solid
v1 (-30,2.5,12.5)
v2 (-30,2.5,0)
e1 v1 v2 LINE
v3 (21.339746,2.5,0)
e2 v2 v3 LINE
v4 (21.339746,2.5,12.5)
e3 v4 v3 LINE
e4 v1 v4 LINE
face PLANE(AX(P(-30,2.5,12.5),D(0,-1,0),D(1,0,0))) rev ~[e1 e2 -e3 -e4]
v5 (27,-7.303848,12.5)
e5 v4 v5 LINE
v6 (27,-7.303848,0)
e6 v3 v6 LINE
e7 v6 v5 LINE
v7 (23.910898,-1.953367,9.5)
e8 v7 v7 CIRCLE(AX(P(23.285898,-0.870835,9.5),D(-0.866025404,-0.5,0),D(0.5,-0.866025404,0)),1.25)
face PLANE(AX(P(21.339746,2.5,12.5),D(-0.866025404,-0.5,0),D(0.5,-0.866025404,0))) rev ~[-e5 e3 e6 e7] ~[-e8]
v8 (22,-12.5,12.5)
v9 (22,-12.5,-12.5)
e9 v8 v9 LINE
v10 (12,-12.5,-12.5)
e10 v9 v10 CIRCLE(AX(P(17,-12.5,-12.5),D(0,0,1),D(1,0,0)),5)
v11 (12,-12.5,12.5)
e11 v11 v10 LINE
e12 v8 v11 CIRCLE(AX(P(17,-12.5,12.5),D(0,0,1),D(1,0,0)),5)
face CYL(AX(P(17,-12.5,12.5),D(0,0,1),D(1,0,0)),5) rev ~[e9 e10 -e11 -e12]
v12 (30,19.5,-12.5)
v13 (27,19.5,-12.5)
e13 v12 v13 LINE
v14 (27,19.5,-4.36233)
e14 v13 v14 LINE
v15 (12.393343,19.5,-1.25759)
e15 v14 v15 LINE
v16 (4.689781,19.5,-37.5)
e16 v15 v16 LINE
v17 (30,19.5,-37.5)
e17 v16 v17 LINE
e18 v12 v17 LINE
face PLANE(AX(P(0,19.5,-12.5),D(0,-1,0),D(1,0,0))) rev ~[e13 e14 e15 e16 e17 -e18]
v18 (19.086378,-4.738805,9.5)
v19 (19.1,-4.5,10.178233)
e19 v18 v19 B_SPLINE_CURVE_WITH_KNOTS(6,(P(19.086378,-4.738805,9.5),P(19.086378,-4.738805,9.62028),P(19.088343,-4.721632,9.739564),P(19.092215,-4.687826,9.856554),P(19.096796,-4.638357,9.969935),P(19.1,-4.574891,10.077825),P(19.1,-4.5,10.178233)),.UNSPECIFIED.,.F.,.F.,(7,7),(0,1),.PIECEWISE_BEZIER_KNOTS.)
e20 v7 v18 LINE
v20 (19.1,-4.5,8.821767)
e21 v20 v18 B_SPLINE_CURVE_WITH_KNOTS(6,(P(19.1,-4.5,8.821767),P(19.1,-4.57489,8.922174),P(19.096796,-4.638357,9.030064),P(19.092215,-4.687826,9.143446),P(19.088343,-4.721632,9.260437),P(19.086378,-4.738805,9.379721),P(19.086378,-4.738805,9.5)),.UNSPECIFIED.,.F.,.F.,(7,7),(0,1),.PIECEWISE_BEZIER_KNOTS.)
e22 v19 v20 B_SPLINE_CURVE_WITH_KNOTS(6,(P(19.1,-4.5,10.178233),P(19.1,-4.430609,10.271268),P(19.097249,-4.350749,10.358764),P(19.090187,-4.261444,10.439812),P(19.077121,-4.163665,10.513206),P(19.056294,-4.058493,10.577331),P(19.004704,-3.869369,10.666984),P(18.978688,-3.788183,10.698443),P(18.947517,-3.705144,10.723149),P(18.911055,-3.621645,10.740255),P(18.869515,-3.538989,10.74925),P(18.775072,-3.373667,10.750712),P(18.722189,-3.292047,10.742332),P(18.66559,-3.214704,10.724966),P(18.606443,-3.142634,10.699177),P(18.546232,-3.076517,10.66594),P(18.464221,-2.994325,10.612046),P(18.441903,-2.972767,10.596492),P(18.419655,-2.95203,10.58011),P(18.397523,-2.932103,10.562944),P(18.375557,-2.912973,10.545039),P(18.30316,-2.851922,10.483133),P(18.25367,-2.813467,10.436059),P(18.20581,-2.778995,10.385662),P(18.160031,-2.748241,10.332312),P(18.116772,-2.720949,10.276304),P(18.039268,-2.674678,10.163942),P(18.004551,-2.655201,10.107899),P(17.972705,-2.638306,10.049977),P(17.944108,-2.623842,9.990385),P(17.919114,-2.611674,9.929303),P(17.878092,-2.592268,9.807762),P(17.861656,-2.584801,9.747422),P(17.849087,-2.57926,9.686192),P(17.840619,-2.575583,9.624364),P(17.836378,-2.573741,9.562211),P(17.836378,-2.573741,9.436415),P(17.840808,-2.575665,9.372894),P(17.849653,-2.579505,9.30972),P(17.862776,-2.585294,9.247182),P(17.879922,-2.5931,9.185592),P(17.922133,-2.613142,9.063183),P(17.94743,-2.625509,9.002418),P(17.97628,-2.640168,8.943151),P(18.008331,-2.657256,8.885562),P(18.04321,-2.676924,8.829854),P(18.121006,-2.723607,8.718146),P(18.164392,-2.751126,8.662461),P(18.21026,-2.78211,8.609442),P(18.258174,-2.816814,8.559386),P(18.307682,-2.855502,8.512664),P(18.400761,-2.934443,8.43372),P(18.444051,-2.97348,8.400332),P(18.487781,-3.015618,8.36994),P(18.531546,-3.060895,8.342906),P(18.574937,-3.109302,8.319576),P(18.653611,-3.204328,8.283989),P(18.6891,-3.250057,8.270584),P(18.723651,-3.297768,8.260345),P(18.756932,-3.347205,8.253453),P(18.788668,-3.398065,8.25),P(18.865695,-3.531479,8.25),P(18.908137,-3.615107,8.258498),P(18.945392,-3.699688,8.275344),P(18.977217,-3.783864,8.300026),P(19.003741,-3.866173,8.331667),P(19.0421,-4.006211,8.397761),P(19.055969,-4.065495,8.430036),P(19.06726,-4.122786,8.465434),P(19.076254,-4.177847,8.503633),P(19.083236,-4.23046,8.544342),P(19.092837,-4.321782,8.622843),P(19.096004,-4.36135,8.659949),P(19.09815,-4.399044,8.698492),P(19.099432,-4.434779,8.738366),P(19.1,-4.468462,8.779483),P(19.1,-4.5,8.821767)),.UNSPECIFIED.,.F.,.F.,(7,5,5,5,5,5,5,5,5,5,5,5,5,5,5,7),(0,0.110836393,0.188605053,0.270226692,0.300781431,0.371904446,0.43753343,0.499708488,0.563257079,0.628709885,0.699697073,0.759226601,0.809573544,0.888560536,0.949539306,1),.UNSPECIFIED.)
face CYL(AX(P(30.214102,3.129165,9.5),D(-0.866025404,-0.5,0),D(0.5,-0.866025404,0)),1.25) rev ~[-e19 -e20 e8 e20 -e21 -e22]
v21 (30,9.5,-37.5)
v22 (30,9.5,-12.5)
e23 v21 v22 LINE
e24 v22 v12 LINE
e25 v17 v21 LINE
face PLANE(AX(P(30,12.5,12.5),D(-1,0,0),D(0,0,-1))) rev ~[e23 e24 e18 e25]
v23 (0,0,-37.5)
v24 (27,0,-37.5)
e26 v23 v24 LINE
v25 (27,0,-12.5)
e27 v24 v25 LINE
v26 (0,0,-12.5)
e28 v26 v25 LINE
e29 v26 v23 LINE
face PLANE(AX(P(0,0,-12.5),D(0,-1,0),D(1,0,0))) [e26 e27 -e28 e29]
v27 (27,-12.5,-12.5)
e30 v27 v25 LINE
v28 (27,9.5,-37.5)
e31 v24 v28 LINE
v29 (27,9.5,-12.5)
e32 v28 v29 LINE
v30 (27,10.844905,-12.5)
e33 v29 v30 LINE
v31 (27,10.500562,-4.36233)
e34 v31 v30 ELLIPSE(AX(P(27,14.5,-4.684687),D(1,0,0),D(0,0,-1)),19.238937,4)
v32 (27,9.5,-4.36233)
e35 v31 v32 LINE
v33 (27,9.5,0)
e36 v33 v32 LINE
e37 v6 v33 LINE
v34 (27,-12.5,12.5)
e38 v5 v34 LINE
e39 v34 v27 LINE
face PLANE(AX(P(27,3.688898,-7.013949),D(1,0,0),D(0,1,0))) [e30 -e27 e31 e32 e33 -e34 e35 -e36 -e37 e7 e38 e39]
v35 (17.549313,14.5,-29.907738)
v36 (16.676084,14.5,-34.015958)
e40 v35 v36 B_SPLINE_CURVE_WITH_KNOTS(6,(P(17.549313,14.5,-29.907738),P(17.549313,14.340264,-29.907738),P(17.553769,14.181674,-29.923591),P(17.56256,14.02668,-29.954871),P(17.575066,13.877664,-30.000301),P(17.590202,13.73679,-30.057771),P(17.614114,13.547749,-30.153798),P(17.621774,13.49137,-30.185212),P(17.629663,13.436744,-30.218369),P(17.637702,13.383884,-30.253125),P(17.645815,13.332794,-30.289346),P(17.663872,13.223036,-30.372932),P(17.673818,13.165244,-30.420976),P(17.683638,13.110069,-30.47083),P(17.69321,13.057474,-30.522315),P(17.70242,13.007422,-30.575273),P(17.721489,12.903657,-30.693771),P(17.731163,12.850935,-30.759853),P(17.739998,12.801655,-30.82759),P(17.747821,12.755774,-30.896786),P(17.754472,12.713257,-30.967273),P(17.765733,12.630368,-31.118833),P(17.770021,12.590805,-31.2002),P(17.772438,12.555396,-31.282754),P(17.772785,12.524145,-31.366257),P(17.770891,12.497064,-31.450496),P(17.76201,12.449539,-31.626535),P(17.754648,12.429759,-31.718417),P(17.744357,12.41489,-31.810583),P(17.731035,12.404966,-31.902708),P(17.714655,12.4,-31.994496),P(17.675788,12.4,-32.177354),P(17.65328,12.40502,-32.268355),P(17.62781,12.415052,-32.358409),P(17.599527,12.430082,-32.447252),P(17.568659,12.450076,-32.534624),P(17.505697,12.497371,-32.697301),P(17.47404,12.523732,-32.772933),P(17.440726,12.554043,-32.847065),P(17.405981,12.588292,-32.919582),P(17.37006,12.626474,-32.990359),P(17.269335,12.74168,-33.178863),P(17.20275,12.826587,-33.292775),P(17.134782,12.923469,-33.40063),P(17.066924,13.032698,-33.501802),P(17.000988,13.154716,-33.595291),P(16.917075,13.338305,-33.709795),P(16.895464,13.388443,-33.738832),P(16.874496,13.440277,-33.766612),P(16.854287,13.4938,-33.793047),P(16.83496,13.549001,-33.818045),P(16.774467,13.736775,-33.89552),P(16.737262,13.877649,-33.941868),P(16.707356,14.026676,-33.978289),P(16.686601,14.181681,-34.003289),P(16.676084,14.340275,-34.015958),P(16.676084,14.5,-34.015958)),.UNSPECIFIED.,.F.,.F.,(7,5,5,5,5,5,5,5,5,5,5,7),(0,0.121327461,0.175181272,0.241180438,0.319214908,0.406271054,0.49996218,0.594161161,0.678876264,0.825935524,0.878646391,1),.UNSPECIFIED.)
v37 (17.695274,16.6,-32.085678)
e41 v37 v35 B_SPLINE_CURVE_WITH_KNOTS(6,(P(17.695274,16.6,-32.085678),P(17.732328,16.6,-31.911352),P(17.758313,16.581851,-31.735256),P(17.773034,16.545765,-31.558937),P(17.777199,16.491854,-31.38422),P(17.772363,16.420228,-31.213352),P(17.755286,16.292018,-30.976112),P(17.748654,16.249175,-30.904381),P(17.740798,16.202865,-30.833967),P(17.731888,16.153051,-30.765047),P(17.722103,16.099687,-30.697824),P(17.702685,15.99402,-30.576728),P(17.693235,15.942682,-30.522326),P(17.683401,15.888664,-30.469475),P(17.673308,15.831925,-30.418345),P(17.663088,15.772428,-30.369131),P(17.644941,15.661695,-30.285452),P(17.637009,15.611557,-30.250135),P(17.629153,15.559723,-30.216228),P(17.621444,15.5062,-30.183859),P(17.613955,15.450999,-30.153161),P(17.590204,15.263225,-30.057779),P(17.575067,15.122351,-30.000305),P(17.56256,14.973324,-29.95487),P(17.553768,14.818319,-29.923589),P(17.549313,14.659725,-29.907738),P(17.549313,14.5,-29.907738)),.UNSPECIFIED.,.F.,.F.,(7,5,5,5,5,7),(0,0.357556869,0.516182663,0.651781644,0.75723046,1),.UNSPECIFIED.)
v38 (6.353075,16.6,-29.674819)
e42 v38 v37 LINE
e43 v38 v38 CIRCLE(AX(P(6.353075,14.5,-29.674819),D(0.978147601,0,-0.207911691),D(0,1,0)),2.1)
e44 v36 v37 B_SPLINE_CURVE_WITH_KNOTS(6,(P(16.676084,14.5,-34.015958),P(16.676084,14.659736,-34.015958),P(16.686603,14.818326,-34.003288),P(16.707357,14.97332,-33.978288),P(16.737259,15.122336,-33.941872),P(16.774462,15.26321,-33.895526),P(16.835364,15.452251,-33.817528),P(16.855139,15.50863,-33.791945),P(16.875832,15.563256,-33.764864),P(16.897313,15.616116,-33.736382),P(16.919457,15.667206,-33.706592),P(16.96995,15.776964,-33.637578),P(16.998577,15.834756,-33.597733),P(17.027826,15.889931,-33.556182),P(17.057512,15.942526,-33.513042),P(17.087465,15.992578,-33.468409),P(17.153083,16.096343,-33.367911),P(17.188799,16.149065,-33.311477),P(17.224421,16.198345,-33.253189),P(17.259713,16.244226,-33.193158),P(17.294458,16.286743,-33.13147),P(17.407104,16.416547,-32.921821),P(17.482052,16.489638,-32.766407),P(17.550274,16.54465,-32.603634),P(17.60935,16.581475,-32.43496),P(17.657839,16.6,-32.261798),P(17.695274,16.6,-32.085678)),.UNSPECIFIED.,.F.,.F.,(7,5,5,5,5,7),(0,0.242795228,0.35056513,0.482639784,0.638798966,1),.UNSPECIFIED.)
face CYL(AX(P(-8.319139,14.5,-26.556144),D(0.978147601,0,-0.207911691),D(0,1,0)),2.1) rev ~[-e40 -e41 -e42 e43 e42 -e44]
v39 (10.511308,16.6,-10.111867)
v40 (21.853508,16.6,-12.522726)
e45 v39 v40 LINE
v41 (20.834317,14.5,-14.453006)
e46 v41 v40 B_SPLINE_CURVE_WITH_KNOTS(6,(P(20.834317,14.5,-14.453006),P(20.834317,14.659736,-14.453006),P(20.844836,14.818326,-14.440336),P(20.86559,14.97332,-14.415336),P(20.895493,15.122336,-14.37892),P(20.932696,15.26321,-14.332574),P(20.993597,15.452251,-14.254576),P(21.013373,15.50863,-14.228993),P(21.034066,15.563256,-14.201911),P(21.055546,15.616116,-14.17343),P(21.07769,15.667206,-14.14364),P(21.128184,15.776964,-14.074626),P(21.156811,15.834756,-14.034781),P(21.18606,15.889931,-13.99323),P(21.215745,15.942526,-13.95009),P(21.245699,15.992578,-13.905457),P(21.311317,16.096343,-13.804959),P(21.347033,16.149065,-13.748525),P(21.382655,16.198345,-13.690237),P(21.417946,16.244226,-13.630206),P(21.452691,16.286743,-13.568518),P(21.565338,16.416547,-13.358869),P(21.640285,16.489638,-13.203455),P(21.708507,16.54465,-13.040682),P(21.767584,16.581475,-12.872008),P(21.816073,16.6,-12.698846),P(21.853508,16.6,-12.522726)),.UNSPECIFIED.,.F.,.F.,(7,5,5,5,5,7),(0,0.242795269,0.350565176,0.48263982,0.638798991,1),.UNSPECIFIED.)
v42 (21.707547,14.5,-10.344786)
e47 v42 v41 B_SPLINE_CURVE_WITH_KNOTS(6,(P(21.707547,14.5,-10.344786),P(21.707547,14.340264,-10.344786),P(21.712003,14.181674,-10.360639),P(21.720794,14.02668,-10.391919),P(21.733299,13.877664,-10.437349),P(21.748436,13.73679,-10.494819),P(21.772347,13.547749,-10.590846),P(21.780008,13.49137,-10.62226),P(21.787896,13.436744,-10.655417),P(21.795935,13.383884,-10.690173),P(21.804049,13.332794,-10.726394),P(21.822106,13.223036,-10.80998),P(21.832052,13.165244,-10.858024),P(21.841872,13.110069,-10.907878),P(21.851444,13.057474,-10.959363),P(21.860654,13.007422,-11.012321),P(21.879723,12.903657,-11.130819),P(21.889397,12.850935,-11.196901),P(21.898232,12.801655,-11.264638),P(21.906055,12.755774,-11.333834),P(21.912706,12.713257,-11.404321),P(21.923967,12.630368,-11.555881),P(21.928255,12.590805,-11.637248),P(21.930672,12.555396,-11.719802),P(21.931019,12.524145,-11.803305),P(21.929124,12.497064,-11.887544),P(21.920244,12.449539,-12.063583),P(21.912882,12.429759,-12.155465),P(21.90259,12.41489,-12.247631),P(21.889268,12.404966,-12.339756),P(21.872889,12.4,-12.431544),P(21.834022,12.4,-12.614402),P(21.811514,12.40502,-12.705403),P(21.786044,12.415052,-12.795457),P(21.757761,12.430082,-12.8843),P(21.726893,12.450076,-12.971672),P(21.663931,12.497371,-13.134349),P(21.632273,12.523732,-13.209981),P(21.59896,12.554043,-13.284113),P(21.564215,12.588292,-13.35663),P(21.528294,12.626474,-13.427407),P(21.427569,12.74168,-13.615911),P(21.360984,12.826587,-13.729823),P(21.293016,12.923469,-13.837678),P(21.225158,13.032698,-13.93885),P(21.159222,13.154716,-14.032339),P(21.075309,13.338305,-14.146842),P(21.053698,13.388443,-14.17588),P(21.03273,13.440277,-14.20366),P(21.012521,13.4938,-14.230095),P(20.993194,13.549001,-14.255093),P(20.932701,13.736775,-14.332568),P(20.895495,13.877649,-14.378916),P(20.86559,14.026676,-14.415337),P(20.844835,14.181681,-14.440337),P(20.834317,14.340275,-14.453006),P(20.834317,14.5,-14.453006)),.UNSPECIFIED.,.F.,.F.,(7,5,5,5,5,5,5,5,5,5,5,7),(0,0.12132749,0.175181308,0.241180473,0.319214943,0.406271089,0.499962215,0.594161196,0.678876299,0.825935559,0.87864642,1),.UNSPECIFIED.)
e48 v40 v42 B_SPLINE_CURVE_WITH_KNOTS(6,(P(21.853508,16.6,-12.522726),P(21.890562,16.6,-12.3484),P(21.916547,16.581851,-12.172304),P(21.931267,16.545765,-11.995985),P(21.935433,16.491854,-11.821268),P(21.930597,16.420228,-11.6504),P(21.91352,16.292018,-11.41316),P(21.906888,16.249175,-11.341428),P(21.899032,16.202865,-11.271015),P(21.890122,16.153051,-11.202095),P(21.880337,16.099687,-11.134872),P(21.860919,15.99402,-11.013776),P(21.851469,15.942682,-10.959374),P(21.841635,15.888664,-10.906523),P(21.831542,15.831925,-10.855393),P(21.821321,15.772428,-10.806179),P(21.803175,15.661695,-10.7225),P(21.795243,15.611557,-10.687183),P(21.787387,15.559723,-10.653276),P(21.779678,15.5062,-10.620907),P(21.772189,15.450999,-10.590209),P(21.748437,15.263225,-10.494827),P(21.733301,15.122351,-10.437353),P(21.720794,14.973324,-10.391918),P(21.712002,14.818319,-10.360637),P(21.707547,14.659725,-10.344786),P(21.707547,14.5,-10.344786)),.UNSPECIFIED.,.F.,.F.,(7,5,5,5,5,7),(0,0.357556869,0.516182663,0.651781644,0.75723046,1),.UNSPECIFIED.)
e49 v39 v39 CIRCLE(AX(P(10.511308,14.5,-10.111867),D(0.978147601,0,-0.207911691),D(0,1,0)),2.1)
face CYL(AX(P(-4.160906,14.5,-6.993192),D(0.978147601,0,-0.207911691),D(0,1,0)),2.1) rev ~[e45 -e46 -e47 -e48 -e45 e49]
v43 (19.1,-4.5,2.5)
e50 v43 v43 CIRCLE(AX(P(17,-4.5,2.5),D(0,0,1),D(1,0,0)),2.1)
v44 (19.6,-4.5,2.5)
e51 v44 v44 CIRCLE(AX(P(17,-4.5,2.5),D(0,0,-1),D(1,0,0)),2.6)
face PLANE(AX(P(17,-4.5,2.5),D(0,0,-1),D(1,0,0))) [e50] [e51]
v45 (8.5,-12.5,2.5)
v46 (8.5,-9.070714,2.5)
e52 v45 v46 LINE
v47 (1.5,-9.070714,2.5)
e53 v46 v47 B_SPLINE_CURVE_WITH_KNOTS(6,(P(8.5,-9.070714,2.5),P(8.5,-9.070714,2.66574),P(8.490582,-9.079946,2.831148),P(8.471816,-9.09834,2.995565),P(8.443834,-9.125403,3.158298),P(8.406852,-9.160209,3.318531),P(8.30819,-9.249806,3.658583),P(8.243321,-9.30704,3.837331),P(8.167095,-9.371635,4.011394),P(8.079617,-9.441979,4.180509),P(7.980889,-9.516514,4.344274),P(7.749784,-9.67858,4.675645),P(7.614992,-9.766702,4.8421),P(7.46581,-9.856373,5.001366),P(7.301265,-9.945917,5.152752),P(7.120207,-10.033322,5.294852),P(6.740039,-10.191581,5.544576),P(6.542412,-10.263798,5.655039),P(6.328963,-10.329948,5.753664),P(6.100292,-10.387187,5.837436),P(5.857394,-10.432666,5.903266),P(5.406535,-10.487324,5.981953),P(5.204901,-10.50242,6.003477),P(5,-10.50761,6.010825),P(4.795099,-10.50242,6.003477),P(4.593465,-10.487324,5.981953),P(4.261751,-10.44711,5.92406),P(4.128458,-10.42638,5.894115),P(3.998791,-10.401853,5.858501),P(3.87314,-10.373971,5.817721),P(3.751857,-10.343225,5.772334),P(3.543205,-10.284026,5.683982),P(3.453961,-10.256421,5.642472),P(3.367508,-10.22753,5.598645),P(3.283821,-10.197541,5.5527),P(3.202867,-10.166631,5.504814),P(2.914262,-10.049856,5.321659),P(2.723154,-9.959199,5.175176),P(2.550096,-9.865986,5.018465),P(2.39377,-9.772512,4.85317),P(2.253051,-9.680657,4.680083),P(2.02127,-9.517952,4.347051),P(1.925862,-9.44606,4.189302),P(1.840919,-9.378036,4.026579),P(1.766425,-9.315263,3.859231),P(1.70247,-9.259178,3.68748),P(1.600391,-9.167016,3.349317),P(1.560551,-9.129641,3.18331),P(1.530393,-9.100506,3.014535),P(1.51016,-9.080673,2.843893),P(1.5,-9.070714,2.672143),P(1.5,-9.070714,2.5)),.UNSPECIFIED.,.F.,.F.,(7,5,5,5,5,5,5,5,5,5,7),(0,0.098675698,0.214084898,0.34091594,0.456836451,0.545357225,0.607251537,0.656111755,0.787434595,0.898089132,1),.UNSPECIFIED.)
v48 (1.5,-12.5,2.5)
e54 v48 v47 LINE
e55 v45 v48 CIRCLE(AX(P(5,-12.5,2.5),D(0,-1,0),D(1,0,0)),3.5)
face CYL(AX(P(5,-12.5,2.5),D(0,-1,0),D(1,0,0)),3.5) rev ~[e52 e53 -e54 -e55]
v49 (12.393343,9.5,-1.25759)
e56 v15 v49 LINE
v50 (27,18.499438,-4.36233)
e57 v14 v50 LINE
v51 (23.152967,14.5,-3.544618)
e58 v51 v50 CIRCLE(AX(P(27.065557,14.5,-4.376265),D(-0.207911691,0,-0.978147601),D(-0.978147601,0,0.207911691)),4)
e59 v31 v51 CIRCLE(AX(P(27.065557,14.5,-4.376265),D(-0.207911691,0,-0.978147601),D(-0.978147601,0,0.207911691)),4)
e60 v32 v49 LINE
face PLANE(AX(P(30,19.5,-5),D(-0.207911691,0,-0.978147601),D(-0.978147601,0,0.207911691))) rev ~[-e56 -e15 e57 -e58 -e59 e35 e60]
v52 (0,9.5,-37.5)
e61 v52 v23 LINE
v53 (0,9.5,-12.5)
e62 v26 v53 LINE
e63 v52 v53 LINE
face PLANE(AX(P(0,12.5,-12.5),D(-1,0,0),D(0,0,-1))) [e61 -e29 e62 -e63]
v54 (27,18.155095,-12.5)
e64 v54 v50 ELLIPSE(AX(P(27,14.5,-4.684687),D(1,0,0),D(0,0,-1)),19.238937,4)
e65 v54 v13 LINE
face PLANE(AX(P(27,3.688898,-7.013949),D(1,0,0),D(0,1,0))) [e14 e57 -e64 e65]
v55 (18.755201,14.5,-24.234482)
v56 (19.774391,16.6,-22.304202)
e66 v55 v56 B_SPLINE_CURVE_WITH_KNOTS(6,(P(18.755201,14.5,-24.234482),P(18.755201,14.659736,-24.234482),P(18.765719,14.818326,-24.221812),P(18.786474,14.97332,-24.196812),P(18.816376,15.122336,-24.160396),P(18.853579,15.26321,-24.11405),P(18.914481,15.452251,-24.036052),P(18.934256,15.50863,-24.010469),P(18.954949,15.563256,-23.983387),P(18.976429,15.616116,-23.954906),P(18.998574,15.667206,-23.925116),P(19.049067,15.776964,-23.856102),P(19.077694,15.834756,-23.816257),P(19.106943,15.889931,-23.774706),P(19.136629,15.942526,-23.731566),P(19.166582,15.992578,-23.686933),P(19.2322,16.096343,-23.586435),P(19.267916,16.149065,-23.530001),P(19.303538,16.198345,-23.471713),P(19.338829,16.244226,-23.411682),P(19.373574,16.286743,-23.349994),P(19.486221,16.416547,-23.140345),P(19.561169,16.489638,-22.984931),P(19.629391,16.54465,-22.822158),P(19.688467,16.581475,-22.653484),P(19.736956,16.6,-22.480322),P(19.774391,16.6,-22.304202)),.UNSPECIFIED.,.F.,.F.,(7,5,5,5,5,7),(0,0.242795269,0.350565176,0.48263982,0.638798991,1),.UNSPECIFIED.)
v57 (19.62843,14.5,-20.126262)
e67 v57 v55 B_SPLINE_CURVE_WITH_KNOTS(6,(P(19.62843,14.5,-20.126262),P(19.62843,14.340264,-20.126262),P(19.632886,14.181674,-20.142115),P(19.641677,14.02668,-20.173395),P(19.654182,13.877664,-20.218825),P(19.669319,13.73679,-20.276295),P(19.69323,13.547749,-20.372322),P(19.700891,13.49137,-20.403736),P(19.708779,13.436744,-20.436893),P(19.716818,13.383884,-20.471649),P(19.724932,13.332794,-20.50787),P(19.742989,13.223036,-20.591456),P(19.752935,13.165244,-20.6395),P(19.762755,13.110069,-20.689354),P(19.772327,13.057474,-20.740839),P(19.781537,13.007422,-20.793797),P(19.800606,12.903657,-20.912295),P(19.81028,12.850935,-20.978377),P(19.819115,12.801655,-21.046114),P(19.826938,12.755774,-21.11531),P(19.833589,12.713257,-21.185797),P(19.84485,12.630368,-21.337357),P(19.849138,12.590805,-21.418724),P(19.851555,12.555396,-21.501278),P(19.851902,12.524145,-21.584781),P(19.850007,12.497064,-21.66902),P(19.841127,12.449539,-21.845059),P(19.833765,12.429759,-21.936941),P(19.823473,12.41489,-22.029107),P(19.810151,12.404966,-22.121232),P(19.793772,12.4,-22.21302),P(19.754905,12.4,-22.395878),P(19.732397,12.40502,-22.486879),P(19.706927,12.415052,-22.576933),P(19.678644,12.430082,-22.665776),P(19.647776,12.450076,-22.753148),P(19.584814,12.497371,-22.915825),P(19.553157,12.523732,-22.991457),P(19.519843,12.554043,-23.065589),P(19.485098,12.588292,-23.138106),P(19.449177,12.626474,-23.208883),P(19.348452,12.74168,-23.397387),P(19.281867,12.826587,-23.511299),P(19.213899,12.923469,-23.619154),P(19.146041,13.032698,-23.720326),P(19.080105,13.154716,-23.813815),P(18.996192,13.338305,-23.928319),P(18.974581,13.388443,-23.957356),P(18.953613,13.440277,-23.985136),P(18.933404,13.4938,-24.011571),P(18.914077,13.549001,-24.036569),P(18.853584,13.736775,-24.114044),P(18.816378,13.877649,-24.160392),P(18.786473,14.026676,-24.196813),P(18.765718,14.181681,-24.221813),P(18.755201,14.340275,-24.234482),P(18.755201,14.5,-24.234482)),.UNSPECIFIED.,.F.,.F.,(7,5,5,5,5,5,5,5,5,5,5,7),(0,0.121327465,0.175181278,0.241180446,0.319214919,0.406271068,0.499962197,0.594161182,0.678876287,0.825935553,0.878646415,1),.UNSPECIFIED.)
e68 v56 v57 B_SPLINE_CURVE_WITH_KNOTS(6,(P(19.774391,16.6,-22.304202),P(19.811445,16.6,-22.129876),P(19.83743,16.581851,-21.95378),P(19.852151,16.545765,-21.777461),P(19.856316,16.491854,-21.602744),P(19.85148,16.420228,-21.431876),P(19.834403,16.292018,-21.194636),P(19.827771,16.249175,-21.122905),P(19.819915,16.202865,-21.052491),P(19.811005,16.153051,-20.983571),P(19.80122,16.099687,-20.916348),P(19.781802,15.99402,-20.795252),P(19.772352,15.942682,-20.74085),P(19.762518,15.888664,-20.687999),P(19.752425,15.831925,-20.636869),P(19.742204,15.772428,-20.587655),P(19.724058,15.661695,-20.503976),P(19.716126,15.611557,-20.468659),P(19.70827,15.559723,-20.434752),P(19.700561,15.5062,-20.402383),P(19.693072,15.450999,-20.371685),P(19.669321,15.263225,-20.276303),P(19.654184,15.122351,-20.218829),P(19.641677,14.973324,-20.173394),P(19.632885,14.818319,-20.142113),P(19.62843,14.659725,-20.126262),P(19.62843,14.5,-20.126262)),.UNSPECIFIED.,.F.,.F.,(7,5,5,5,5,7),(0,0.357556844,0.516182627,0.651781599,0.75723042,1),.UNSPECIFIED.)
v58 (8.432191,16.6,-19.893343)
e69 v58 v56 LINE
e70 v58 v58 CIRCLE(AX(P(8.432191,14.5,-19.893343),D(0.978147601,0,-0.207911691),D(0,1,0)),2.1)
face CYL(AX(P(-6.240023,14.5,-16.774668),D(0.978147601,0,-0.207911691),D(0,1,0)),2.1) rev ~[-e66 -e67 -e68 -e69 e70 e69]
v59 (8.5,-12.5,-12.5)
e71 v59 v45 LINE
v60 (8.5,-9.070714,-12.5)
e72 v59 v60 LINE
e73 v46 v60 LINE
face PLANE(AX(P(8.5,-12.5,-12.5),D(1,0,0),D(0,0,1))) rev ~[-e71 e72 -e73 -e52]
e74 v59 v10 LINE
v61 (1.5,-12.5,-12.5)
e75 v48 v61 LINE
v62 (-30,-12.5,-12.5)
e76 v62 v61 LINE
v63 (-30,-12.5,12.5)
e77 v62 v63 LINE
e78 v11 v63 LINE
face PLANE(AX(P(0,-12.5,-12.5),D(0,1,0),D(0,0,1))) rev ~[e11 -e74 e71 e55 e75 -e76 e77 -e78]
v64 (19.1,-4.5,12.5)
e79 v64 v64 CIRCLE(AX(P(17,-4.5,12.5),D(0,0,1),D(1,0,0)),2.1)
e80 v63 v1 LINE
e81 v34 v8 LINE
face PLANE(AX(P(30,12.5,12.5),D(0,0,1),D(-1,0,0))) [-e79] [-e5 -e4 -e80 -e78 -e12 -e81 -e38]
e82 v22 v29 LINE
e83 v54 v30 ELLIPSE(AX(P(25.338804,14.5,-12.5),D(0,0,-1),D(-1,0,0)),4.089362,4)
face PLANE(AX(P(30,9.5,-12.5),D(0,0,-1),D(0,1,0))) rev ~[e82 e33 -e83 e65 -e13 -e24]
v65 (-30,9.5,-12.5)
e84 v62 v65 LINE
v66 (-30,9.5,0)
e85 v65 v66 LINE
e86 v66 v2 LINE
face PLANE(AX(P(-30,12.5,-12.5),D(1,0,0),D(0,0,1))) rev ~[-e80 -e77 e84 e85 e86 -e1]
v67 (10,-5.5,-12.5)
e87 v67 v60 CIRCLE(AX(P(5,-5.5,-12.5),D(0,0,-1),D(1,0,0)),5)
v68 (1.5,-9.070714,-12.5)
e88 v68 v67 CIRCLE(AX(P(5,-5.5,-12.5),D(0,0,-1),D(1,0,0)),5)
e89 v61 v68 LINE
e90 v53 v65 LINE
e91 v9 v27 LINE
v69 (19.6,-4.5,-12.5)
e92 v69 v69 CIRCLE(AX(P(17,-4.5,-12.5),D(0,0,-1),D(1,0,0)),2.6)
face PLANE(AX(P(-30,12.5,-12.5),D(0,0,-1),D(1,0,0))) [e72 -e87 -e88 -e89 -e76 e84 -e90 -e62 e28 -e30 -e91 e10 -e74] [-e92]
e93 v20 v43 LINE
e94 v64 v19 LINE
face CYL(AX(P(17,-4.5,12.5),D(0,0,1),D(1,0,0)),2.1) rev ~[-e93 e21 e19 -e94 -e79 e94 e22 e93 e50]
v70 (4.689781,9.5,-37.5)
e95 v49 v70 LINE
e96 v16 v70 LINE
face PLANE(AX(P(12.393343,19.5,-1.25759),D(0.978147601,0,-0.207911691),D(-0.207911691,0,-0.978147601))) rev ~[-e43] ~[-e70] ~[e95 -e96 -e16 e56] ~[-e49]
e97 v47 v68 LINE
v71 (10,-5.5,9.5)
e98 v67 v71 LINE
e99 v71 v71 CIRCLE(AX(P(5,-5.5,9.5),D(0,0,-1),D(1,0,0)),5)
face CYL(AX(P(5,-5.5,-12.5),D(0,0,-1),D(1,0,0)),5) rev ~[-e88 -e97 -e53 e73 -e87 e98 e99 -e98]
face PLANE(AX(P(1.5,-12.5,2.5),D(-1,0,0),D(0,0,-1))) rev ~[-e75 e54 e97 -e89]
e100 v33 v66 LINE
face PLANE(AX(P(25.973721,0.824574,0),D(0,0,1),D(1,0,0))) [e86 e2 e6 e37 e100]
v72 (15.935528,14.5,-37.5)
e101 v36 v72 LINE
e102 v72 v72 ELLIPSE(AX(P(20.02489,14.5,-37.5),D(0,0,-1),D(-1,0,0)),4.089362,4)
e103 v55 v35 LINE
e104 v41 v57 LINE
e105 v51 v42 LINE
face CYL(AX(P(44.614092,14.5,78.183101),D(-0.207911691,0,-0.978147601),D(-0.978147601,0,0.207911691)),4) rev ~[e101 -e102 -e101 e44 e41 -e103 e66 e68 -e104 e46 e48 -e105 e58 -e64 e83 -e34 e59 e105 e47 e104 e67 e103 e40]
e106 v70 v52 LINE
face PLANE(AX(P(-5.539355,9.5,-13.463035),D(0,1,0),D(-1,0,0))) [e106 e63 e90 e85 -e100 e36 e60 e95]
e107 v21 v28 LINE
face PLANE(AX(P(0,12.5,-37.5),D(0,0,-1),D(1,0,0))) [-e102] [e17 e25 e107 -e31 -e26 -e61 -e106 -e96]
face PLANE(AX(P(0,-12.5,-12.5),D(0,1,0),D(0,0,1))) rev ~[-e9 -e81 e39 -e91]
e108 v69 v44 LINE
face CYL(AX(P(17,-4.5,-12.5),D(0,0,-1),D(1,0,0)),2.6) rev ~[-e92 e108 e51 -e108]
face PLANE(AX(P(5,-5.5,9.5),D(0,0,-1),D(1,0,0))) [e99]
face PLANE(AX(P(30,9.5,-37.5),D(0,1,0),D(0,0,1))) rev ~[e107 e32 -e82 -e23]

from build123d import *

# Parameters (mm, degrees)
F0_W      = 25
F0_H      = 25
F1_DEPTH  = 30
F3_DEPTH  = 25.001
F4_R      = 2.1
F5_DEPTH  = 25.001
F6_R      = 5
F7_DEPTH  = 22
F9_DEPTH  = 7
F10_R     = 2.6
F11_DEPTH = 15
F14_W     = 30
F14_H     = 12.5
F15_DEPTH = 25
F16_DEPTH = 7
F18_DEPTH = 10
F20_DEPTH = 10
F22_D     = 8
F24_DEPTH = 12.5
F25_W     = 9.5
F25_H     = 25
F26_DEPTH = 3
F28_D     = 4.2
F28_DEPTH = 15
F28_TIP   = 1.2618073
F31_D     = 2.5
F31_DEPTH = 8
F31_TIP   = 0.7510757738


with BuildPart() as f1:
    # F0 (on Right) → F1 (new body, symmetric)
    with BuildSketch(Plane.YZ):
        Rectangle(F0_W, F0_H)
    extrude(amount=F1_DEPTH, both=True)

    # F2 (on face) → F3 (cut, through all)
    with BuildSketch(Plane.XY.offset(12.5)):
        with BuildLine():
            Line((12, -12.5), (22, -12.5))
            ThreePointArc((22, -12.5), (17, -7.5), (12, -12.5))
        make_face()
    extrude(amount=-F3_DEPTH, mode=Mode.SUBTRACT)

    # F4 (on face) → F5 (cut, through all)
    with BuildSketch(Plane.XY.offset(12.5)):
        with Locations((17, -4.5)):
            Circle(F4_R)
    extrude(amount=-F5_DEPTH, mode=Mode.SUBTRACT)

    # F6 (on face) → F7 (cut)
    with BuildSketch(Plane(origin=(0, 0, -12.5), x_dir=(1, 0, 0), z_dir=(0, 0, -1))):
        with Locations((5, 5.5)):
            Circle(F6_R)
    extrude(amount=-F7_DEPTH, mode=Mode.SUBTRACT)

    # F8 (on face) → F9 (cut)
    with BuildSketch(Plane.XZ.offset(12.5)):
        with BuildLine():
            Line((1.5, -12.5), (8.5, -12.5))
            Line((8.5, -12.5), (8.5, 2.5))
            ThreePointArc((8.5, 2.5), (5, 6), (1.5, 2.5))
            Line((1.5, 2.5), (1.5, -12.5))
        make_face()
    extrude(amount=-F9_DEPTH, mode=Mode.SUBTRACT)

    # F10 (on face) → F11 (cut)
    with BuildSketch(Plane(origin=(0, 0, -12.5), x_dir=(1, 0, 0), z_dir=(0, 0, -1))):
        with Locations((17, 4.5)):
            Circle(F10_R)
    extrude(amount=-F11_DEPTH, mode=Mode.SUBTRACT)


with BuildPart() as f12_1:
    # F12: copy of F1
    add(f1.part)


with BuildPart() as f1_1:
    add(f1.part)

    # F14 (on face) → F15 (join)
    with BuildSketch(Plane(origin=(0, 0, -12.5), x_dir=(1, 0, 0), z_dir=(0, 0, -1))):
        with Locations((15, -6.25)):
            Rectangle(F14_W, F14_H)
    extrude(amount=F15_DEPTH)

    # F16 (add): a face of the model
    f16_faces = [f1_1.faces().sort_by_distance(p)[0] for p in [
        (5, 12.5, -8.3333333333),
    ]]
    extrude(f16_faces, amount=F16_DEPTH)

    # F17 (on face) → F18 (cut)
    with BuildSketch(Plane(origin=(0, 19.5, 0), x_dir=(-1, 0, 0), z_dir=(0, 1, 0))):
        Polygon((-30, -5), (-6.4768494526, 0), (30, 0), (30, 12.5), (-30, 12.5), align=None)
    extrude(amount=-F18_DEPTH, mode=Mode.SUBTRACT)

    # F19 (on face) → F20 (cut)
    with BuildSketch(Plane(origin=(0, 19.5, 0), x_dir=(-1, 0, 0), z_dir=(0, 1, 0))):
        Polygon((30, -1.2575895653), (-12.3933431868, -1.2575895653), (-4.6897810382, -37.5), (0, -37.5), (0, -12.5), (30, -12.5), align=None)
        Polygon((-12.3933431868, 5.6717685307), (-12.3933431868, -1.2575895653), (-6.4768494526, 0), (30, 0), (30, 5.6717685307), align=None)
        Polygon((-6.4768494526, 0), (-12.3933431868, -1.2575895653), (30, -1.2575895653), (30, 0), align=None)
    extrude(amount=-F20_DEPTH, mode=Mode.SUBTRACT)

    # F22 (through all)
    with Locations(Plane(origin=(0.2799765277, 0, 1.317186002), x_dir=(0.9781476007, 0, -0.2079116908), z_dir=(0.2079116908, 0, 0.9781476007))):
        with Locations((27.3839864761, 14.5)):
            Hole(F22_D / 2)

    # F23 (on face) → F24 (cut)
    with BuildSketch(Plane.XY.offset(12.5)):
        Polygon((21.3397459622, 2.5), (30, -12.5), (30, 9.5), (17.2982940778, 9.5), align=None)
        Polygon((-30, 2.5), (21.3397459622, 2.5), (17.2982940778, 9.5), (-30, 9.5), align=None)
    extrude(amount=-F24_DEPTH, mode=Mode.SUBTRACT)

    # F25 (on face) → F26 (cut)
    with BuildSketch(Plane.YZ.offset(30)):
        with BuildLine():
            Line((-12.5, 0), (-12.5, -12.5))
            Line((-12.5, -12.5), (0, -12.5))
            Line((0, -12.5), (9.5, -12.5))
            Line((9.5, -12.5), (19.5, -12.5))
            Line((19.5, -12.5), (19.5, -5))
            Line((19.5, -5), (17.1457513111, -5))
            add(Edge.make_bspline(
                [(14.5, -9.8097343447), (16.011857892, -9.8097343447), (17.1457513111, -5)],
                knots=[3.1415926536, 3.1415926536, 3.1415926536, 3.8643269014, 3.8643269014, 3.8643269014], degree=2, weights=[1, 0.9354143467, 1]))
            add(Edge.make_bspline(
                [(11.8542486889, -5), (12.988142108, -9.8097343447), (14.5, -9.8097343447)],
                knots=[2.4188584058, 2.4188584058, 2.4188584058, 3.1415926536, 3.1415926536, 3.1415926536], degree=2, weights=[1, 0.9354143467, 1]))
            Line((11.8542486889, -5), (9.5, -5))
            Line((9.5, -5), (9.5, 0))
            Line((9.5, 0), (-12.5, 0))
        make_face()
        with BuildLine():
            Line((-12.5, 12.5), (-12.5, 0))
            Line((-12.5, 0), (9.5, 0))
            Line((9.5, 0), (9.5, -5))
            Line((9.5, -5), (11.8542486889, -5))
            add(Edge.make_bspline(
                [(11.8542486889, -5), (12.988142108, -9.8097343447), (14.5, -9.8097343447)],
                knots=[2.4188584058, 2.4188584058, 2.4188584058, 3.1415926536, 3.1415926536, 3.1415926536], degree=2, weights=[1, 0.9354143467, 1]))
            add(Edge.make_bspline(
                [(14.5, -9.8097343447), (16.011857892, -9.8097343447), (17.1457513111, -5)],
                knots=[3.1415926536, 3.1415926536, 3.1415926536, 3.8643269014, 3.8643269014, 3.8643269014], degree=2, weights=[1, 0.9354143467, 1]))
            Line((17.1457513111, -5), (19.5, -5))
            Line((19.5, -5), (19.5, 12.5))
            Line((19.5, 12.5), (-12.5, 12.5))
        make_face()
        with Locations((4.75, -25)):
            Rectangle(F25_W, F25_H)
    extrude(amount=-F26_DEPTH, mode=Mode.SUBTRACT)

    # F28
    with Locations(Plane(origin=(12.1133666591, 0, -2.5747755673), x_dir=(0, -1, 0), z_dir=(-0.9781476007, 0, 0.2079116908))):
        with Locations((-14.5, -7.7054747223), (-14.5, -17.7054747223), (-14.5, -27.7054747223)):
            Hole(F28_D / 2, depth=F28_DEPTH)
            with Locations((0, 0, -(F28_DEPTH + F28_TIP / 2))):  # 118° drill point
                Cone(0, F28_D / 2, F28_TIP, mode=Mode.SUBTRACT)

    # F31
    with Locations(Plane(origin=(17.0873412263, 9.8653810568, 0), x_dir=(-0.5, 0.8660254038, 0), z_dir=(0.8660254038, 0.5, 0))):
        with Locations((-12.397114317, 9.5)):
            Hole(F31_D / 2, depth=F31_DEPTH)
            with Locations((0, 0, -(F31_DEPTH + F31_TIP / 2))):  # 118° drill point
                Cone(0, F31_D / 2, F31_TIP, mode=Mode.SUBTRACT)


solid = f1_1.part
